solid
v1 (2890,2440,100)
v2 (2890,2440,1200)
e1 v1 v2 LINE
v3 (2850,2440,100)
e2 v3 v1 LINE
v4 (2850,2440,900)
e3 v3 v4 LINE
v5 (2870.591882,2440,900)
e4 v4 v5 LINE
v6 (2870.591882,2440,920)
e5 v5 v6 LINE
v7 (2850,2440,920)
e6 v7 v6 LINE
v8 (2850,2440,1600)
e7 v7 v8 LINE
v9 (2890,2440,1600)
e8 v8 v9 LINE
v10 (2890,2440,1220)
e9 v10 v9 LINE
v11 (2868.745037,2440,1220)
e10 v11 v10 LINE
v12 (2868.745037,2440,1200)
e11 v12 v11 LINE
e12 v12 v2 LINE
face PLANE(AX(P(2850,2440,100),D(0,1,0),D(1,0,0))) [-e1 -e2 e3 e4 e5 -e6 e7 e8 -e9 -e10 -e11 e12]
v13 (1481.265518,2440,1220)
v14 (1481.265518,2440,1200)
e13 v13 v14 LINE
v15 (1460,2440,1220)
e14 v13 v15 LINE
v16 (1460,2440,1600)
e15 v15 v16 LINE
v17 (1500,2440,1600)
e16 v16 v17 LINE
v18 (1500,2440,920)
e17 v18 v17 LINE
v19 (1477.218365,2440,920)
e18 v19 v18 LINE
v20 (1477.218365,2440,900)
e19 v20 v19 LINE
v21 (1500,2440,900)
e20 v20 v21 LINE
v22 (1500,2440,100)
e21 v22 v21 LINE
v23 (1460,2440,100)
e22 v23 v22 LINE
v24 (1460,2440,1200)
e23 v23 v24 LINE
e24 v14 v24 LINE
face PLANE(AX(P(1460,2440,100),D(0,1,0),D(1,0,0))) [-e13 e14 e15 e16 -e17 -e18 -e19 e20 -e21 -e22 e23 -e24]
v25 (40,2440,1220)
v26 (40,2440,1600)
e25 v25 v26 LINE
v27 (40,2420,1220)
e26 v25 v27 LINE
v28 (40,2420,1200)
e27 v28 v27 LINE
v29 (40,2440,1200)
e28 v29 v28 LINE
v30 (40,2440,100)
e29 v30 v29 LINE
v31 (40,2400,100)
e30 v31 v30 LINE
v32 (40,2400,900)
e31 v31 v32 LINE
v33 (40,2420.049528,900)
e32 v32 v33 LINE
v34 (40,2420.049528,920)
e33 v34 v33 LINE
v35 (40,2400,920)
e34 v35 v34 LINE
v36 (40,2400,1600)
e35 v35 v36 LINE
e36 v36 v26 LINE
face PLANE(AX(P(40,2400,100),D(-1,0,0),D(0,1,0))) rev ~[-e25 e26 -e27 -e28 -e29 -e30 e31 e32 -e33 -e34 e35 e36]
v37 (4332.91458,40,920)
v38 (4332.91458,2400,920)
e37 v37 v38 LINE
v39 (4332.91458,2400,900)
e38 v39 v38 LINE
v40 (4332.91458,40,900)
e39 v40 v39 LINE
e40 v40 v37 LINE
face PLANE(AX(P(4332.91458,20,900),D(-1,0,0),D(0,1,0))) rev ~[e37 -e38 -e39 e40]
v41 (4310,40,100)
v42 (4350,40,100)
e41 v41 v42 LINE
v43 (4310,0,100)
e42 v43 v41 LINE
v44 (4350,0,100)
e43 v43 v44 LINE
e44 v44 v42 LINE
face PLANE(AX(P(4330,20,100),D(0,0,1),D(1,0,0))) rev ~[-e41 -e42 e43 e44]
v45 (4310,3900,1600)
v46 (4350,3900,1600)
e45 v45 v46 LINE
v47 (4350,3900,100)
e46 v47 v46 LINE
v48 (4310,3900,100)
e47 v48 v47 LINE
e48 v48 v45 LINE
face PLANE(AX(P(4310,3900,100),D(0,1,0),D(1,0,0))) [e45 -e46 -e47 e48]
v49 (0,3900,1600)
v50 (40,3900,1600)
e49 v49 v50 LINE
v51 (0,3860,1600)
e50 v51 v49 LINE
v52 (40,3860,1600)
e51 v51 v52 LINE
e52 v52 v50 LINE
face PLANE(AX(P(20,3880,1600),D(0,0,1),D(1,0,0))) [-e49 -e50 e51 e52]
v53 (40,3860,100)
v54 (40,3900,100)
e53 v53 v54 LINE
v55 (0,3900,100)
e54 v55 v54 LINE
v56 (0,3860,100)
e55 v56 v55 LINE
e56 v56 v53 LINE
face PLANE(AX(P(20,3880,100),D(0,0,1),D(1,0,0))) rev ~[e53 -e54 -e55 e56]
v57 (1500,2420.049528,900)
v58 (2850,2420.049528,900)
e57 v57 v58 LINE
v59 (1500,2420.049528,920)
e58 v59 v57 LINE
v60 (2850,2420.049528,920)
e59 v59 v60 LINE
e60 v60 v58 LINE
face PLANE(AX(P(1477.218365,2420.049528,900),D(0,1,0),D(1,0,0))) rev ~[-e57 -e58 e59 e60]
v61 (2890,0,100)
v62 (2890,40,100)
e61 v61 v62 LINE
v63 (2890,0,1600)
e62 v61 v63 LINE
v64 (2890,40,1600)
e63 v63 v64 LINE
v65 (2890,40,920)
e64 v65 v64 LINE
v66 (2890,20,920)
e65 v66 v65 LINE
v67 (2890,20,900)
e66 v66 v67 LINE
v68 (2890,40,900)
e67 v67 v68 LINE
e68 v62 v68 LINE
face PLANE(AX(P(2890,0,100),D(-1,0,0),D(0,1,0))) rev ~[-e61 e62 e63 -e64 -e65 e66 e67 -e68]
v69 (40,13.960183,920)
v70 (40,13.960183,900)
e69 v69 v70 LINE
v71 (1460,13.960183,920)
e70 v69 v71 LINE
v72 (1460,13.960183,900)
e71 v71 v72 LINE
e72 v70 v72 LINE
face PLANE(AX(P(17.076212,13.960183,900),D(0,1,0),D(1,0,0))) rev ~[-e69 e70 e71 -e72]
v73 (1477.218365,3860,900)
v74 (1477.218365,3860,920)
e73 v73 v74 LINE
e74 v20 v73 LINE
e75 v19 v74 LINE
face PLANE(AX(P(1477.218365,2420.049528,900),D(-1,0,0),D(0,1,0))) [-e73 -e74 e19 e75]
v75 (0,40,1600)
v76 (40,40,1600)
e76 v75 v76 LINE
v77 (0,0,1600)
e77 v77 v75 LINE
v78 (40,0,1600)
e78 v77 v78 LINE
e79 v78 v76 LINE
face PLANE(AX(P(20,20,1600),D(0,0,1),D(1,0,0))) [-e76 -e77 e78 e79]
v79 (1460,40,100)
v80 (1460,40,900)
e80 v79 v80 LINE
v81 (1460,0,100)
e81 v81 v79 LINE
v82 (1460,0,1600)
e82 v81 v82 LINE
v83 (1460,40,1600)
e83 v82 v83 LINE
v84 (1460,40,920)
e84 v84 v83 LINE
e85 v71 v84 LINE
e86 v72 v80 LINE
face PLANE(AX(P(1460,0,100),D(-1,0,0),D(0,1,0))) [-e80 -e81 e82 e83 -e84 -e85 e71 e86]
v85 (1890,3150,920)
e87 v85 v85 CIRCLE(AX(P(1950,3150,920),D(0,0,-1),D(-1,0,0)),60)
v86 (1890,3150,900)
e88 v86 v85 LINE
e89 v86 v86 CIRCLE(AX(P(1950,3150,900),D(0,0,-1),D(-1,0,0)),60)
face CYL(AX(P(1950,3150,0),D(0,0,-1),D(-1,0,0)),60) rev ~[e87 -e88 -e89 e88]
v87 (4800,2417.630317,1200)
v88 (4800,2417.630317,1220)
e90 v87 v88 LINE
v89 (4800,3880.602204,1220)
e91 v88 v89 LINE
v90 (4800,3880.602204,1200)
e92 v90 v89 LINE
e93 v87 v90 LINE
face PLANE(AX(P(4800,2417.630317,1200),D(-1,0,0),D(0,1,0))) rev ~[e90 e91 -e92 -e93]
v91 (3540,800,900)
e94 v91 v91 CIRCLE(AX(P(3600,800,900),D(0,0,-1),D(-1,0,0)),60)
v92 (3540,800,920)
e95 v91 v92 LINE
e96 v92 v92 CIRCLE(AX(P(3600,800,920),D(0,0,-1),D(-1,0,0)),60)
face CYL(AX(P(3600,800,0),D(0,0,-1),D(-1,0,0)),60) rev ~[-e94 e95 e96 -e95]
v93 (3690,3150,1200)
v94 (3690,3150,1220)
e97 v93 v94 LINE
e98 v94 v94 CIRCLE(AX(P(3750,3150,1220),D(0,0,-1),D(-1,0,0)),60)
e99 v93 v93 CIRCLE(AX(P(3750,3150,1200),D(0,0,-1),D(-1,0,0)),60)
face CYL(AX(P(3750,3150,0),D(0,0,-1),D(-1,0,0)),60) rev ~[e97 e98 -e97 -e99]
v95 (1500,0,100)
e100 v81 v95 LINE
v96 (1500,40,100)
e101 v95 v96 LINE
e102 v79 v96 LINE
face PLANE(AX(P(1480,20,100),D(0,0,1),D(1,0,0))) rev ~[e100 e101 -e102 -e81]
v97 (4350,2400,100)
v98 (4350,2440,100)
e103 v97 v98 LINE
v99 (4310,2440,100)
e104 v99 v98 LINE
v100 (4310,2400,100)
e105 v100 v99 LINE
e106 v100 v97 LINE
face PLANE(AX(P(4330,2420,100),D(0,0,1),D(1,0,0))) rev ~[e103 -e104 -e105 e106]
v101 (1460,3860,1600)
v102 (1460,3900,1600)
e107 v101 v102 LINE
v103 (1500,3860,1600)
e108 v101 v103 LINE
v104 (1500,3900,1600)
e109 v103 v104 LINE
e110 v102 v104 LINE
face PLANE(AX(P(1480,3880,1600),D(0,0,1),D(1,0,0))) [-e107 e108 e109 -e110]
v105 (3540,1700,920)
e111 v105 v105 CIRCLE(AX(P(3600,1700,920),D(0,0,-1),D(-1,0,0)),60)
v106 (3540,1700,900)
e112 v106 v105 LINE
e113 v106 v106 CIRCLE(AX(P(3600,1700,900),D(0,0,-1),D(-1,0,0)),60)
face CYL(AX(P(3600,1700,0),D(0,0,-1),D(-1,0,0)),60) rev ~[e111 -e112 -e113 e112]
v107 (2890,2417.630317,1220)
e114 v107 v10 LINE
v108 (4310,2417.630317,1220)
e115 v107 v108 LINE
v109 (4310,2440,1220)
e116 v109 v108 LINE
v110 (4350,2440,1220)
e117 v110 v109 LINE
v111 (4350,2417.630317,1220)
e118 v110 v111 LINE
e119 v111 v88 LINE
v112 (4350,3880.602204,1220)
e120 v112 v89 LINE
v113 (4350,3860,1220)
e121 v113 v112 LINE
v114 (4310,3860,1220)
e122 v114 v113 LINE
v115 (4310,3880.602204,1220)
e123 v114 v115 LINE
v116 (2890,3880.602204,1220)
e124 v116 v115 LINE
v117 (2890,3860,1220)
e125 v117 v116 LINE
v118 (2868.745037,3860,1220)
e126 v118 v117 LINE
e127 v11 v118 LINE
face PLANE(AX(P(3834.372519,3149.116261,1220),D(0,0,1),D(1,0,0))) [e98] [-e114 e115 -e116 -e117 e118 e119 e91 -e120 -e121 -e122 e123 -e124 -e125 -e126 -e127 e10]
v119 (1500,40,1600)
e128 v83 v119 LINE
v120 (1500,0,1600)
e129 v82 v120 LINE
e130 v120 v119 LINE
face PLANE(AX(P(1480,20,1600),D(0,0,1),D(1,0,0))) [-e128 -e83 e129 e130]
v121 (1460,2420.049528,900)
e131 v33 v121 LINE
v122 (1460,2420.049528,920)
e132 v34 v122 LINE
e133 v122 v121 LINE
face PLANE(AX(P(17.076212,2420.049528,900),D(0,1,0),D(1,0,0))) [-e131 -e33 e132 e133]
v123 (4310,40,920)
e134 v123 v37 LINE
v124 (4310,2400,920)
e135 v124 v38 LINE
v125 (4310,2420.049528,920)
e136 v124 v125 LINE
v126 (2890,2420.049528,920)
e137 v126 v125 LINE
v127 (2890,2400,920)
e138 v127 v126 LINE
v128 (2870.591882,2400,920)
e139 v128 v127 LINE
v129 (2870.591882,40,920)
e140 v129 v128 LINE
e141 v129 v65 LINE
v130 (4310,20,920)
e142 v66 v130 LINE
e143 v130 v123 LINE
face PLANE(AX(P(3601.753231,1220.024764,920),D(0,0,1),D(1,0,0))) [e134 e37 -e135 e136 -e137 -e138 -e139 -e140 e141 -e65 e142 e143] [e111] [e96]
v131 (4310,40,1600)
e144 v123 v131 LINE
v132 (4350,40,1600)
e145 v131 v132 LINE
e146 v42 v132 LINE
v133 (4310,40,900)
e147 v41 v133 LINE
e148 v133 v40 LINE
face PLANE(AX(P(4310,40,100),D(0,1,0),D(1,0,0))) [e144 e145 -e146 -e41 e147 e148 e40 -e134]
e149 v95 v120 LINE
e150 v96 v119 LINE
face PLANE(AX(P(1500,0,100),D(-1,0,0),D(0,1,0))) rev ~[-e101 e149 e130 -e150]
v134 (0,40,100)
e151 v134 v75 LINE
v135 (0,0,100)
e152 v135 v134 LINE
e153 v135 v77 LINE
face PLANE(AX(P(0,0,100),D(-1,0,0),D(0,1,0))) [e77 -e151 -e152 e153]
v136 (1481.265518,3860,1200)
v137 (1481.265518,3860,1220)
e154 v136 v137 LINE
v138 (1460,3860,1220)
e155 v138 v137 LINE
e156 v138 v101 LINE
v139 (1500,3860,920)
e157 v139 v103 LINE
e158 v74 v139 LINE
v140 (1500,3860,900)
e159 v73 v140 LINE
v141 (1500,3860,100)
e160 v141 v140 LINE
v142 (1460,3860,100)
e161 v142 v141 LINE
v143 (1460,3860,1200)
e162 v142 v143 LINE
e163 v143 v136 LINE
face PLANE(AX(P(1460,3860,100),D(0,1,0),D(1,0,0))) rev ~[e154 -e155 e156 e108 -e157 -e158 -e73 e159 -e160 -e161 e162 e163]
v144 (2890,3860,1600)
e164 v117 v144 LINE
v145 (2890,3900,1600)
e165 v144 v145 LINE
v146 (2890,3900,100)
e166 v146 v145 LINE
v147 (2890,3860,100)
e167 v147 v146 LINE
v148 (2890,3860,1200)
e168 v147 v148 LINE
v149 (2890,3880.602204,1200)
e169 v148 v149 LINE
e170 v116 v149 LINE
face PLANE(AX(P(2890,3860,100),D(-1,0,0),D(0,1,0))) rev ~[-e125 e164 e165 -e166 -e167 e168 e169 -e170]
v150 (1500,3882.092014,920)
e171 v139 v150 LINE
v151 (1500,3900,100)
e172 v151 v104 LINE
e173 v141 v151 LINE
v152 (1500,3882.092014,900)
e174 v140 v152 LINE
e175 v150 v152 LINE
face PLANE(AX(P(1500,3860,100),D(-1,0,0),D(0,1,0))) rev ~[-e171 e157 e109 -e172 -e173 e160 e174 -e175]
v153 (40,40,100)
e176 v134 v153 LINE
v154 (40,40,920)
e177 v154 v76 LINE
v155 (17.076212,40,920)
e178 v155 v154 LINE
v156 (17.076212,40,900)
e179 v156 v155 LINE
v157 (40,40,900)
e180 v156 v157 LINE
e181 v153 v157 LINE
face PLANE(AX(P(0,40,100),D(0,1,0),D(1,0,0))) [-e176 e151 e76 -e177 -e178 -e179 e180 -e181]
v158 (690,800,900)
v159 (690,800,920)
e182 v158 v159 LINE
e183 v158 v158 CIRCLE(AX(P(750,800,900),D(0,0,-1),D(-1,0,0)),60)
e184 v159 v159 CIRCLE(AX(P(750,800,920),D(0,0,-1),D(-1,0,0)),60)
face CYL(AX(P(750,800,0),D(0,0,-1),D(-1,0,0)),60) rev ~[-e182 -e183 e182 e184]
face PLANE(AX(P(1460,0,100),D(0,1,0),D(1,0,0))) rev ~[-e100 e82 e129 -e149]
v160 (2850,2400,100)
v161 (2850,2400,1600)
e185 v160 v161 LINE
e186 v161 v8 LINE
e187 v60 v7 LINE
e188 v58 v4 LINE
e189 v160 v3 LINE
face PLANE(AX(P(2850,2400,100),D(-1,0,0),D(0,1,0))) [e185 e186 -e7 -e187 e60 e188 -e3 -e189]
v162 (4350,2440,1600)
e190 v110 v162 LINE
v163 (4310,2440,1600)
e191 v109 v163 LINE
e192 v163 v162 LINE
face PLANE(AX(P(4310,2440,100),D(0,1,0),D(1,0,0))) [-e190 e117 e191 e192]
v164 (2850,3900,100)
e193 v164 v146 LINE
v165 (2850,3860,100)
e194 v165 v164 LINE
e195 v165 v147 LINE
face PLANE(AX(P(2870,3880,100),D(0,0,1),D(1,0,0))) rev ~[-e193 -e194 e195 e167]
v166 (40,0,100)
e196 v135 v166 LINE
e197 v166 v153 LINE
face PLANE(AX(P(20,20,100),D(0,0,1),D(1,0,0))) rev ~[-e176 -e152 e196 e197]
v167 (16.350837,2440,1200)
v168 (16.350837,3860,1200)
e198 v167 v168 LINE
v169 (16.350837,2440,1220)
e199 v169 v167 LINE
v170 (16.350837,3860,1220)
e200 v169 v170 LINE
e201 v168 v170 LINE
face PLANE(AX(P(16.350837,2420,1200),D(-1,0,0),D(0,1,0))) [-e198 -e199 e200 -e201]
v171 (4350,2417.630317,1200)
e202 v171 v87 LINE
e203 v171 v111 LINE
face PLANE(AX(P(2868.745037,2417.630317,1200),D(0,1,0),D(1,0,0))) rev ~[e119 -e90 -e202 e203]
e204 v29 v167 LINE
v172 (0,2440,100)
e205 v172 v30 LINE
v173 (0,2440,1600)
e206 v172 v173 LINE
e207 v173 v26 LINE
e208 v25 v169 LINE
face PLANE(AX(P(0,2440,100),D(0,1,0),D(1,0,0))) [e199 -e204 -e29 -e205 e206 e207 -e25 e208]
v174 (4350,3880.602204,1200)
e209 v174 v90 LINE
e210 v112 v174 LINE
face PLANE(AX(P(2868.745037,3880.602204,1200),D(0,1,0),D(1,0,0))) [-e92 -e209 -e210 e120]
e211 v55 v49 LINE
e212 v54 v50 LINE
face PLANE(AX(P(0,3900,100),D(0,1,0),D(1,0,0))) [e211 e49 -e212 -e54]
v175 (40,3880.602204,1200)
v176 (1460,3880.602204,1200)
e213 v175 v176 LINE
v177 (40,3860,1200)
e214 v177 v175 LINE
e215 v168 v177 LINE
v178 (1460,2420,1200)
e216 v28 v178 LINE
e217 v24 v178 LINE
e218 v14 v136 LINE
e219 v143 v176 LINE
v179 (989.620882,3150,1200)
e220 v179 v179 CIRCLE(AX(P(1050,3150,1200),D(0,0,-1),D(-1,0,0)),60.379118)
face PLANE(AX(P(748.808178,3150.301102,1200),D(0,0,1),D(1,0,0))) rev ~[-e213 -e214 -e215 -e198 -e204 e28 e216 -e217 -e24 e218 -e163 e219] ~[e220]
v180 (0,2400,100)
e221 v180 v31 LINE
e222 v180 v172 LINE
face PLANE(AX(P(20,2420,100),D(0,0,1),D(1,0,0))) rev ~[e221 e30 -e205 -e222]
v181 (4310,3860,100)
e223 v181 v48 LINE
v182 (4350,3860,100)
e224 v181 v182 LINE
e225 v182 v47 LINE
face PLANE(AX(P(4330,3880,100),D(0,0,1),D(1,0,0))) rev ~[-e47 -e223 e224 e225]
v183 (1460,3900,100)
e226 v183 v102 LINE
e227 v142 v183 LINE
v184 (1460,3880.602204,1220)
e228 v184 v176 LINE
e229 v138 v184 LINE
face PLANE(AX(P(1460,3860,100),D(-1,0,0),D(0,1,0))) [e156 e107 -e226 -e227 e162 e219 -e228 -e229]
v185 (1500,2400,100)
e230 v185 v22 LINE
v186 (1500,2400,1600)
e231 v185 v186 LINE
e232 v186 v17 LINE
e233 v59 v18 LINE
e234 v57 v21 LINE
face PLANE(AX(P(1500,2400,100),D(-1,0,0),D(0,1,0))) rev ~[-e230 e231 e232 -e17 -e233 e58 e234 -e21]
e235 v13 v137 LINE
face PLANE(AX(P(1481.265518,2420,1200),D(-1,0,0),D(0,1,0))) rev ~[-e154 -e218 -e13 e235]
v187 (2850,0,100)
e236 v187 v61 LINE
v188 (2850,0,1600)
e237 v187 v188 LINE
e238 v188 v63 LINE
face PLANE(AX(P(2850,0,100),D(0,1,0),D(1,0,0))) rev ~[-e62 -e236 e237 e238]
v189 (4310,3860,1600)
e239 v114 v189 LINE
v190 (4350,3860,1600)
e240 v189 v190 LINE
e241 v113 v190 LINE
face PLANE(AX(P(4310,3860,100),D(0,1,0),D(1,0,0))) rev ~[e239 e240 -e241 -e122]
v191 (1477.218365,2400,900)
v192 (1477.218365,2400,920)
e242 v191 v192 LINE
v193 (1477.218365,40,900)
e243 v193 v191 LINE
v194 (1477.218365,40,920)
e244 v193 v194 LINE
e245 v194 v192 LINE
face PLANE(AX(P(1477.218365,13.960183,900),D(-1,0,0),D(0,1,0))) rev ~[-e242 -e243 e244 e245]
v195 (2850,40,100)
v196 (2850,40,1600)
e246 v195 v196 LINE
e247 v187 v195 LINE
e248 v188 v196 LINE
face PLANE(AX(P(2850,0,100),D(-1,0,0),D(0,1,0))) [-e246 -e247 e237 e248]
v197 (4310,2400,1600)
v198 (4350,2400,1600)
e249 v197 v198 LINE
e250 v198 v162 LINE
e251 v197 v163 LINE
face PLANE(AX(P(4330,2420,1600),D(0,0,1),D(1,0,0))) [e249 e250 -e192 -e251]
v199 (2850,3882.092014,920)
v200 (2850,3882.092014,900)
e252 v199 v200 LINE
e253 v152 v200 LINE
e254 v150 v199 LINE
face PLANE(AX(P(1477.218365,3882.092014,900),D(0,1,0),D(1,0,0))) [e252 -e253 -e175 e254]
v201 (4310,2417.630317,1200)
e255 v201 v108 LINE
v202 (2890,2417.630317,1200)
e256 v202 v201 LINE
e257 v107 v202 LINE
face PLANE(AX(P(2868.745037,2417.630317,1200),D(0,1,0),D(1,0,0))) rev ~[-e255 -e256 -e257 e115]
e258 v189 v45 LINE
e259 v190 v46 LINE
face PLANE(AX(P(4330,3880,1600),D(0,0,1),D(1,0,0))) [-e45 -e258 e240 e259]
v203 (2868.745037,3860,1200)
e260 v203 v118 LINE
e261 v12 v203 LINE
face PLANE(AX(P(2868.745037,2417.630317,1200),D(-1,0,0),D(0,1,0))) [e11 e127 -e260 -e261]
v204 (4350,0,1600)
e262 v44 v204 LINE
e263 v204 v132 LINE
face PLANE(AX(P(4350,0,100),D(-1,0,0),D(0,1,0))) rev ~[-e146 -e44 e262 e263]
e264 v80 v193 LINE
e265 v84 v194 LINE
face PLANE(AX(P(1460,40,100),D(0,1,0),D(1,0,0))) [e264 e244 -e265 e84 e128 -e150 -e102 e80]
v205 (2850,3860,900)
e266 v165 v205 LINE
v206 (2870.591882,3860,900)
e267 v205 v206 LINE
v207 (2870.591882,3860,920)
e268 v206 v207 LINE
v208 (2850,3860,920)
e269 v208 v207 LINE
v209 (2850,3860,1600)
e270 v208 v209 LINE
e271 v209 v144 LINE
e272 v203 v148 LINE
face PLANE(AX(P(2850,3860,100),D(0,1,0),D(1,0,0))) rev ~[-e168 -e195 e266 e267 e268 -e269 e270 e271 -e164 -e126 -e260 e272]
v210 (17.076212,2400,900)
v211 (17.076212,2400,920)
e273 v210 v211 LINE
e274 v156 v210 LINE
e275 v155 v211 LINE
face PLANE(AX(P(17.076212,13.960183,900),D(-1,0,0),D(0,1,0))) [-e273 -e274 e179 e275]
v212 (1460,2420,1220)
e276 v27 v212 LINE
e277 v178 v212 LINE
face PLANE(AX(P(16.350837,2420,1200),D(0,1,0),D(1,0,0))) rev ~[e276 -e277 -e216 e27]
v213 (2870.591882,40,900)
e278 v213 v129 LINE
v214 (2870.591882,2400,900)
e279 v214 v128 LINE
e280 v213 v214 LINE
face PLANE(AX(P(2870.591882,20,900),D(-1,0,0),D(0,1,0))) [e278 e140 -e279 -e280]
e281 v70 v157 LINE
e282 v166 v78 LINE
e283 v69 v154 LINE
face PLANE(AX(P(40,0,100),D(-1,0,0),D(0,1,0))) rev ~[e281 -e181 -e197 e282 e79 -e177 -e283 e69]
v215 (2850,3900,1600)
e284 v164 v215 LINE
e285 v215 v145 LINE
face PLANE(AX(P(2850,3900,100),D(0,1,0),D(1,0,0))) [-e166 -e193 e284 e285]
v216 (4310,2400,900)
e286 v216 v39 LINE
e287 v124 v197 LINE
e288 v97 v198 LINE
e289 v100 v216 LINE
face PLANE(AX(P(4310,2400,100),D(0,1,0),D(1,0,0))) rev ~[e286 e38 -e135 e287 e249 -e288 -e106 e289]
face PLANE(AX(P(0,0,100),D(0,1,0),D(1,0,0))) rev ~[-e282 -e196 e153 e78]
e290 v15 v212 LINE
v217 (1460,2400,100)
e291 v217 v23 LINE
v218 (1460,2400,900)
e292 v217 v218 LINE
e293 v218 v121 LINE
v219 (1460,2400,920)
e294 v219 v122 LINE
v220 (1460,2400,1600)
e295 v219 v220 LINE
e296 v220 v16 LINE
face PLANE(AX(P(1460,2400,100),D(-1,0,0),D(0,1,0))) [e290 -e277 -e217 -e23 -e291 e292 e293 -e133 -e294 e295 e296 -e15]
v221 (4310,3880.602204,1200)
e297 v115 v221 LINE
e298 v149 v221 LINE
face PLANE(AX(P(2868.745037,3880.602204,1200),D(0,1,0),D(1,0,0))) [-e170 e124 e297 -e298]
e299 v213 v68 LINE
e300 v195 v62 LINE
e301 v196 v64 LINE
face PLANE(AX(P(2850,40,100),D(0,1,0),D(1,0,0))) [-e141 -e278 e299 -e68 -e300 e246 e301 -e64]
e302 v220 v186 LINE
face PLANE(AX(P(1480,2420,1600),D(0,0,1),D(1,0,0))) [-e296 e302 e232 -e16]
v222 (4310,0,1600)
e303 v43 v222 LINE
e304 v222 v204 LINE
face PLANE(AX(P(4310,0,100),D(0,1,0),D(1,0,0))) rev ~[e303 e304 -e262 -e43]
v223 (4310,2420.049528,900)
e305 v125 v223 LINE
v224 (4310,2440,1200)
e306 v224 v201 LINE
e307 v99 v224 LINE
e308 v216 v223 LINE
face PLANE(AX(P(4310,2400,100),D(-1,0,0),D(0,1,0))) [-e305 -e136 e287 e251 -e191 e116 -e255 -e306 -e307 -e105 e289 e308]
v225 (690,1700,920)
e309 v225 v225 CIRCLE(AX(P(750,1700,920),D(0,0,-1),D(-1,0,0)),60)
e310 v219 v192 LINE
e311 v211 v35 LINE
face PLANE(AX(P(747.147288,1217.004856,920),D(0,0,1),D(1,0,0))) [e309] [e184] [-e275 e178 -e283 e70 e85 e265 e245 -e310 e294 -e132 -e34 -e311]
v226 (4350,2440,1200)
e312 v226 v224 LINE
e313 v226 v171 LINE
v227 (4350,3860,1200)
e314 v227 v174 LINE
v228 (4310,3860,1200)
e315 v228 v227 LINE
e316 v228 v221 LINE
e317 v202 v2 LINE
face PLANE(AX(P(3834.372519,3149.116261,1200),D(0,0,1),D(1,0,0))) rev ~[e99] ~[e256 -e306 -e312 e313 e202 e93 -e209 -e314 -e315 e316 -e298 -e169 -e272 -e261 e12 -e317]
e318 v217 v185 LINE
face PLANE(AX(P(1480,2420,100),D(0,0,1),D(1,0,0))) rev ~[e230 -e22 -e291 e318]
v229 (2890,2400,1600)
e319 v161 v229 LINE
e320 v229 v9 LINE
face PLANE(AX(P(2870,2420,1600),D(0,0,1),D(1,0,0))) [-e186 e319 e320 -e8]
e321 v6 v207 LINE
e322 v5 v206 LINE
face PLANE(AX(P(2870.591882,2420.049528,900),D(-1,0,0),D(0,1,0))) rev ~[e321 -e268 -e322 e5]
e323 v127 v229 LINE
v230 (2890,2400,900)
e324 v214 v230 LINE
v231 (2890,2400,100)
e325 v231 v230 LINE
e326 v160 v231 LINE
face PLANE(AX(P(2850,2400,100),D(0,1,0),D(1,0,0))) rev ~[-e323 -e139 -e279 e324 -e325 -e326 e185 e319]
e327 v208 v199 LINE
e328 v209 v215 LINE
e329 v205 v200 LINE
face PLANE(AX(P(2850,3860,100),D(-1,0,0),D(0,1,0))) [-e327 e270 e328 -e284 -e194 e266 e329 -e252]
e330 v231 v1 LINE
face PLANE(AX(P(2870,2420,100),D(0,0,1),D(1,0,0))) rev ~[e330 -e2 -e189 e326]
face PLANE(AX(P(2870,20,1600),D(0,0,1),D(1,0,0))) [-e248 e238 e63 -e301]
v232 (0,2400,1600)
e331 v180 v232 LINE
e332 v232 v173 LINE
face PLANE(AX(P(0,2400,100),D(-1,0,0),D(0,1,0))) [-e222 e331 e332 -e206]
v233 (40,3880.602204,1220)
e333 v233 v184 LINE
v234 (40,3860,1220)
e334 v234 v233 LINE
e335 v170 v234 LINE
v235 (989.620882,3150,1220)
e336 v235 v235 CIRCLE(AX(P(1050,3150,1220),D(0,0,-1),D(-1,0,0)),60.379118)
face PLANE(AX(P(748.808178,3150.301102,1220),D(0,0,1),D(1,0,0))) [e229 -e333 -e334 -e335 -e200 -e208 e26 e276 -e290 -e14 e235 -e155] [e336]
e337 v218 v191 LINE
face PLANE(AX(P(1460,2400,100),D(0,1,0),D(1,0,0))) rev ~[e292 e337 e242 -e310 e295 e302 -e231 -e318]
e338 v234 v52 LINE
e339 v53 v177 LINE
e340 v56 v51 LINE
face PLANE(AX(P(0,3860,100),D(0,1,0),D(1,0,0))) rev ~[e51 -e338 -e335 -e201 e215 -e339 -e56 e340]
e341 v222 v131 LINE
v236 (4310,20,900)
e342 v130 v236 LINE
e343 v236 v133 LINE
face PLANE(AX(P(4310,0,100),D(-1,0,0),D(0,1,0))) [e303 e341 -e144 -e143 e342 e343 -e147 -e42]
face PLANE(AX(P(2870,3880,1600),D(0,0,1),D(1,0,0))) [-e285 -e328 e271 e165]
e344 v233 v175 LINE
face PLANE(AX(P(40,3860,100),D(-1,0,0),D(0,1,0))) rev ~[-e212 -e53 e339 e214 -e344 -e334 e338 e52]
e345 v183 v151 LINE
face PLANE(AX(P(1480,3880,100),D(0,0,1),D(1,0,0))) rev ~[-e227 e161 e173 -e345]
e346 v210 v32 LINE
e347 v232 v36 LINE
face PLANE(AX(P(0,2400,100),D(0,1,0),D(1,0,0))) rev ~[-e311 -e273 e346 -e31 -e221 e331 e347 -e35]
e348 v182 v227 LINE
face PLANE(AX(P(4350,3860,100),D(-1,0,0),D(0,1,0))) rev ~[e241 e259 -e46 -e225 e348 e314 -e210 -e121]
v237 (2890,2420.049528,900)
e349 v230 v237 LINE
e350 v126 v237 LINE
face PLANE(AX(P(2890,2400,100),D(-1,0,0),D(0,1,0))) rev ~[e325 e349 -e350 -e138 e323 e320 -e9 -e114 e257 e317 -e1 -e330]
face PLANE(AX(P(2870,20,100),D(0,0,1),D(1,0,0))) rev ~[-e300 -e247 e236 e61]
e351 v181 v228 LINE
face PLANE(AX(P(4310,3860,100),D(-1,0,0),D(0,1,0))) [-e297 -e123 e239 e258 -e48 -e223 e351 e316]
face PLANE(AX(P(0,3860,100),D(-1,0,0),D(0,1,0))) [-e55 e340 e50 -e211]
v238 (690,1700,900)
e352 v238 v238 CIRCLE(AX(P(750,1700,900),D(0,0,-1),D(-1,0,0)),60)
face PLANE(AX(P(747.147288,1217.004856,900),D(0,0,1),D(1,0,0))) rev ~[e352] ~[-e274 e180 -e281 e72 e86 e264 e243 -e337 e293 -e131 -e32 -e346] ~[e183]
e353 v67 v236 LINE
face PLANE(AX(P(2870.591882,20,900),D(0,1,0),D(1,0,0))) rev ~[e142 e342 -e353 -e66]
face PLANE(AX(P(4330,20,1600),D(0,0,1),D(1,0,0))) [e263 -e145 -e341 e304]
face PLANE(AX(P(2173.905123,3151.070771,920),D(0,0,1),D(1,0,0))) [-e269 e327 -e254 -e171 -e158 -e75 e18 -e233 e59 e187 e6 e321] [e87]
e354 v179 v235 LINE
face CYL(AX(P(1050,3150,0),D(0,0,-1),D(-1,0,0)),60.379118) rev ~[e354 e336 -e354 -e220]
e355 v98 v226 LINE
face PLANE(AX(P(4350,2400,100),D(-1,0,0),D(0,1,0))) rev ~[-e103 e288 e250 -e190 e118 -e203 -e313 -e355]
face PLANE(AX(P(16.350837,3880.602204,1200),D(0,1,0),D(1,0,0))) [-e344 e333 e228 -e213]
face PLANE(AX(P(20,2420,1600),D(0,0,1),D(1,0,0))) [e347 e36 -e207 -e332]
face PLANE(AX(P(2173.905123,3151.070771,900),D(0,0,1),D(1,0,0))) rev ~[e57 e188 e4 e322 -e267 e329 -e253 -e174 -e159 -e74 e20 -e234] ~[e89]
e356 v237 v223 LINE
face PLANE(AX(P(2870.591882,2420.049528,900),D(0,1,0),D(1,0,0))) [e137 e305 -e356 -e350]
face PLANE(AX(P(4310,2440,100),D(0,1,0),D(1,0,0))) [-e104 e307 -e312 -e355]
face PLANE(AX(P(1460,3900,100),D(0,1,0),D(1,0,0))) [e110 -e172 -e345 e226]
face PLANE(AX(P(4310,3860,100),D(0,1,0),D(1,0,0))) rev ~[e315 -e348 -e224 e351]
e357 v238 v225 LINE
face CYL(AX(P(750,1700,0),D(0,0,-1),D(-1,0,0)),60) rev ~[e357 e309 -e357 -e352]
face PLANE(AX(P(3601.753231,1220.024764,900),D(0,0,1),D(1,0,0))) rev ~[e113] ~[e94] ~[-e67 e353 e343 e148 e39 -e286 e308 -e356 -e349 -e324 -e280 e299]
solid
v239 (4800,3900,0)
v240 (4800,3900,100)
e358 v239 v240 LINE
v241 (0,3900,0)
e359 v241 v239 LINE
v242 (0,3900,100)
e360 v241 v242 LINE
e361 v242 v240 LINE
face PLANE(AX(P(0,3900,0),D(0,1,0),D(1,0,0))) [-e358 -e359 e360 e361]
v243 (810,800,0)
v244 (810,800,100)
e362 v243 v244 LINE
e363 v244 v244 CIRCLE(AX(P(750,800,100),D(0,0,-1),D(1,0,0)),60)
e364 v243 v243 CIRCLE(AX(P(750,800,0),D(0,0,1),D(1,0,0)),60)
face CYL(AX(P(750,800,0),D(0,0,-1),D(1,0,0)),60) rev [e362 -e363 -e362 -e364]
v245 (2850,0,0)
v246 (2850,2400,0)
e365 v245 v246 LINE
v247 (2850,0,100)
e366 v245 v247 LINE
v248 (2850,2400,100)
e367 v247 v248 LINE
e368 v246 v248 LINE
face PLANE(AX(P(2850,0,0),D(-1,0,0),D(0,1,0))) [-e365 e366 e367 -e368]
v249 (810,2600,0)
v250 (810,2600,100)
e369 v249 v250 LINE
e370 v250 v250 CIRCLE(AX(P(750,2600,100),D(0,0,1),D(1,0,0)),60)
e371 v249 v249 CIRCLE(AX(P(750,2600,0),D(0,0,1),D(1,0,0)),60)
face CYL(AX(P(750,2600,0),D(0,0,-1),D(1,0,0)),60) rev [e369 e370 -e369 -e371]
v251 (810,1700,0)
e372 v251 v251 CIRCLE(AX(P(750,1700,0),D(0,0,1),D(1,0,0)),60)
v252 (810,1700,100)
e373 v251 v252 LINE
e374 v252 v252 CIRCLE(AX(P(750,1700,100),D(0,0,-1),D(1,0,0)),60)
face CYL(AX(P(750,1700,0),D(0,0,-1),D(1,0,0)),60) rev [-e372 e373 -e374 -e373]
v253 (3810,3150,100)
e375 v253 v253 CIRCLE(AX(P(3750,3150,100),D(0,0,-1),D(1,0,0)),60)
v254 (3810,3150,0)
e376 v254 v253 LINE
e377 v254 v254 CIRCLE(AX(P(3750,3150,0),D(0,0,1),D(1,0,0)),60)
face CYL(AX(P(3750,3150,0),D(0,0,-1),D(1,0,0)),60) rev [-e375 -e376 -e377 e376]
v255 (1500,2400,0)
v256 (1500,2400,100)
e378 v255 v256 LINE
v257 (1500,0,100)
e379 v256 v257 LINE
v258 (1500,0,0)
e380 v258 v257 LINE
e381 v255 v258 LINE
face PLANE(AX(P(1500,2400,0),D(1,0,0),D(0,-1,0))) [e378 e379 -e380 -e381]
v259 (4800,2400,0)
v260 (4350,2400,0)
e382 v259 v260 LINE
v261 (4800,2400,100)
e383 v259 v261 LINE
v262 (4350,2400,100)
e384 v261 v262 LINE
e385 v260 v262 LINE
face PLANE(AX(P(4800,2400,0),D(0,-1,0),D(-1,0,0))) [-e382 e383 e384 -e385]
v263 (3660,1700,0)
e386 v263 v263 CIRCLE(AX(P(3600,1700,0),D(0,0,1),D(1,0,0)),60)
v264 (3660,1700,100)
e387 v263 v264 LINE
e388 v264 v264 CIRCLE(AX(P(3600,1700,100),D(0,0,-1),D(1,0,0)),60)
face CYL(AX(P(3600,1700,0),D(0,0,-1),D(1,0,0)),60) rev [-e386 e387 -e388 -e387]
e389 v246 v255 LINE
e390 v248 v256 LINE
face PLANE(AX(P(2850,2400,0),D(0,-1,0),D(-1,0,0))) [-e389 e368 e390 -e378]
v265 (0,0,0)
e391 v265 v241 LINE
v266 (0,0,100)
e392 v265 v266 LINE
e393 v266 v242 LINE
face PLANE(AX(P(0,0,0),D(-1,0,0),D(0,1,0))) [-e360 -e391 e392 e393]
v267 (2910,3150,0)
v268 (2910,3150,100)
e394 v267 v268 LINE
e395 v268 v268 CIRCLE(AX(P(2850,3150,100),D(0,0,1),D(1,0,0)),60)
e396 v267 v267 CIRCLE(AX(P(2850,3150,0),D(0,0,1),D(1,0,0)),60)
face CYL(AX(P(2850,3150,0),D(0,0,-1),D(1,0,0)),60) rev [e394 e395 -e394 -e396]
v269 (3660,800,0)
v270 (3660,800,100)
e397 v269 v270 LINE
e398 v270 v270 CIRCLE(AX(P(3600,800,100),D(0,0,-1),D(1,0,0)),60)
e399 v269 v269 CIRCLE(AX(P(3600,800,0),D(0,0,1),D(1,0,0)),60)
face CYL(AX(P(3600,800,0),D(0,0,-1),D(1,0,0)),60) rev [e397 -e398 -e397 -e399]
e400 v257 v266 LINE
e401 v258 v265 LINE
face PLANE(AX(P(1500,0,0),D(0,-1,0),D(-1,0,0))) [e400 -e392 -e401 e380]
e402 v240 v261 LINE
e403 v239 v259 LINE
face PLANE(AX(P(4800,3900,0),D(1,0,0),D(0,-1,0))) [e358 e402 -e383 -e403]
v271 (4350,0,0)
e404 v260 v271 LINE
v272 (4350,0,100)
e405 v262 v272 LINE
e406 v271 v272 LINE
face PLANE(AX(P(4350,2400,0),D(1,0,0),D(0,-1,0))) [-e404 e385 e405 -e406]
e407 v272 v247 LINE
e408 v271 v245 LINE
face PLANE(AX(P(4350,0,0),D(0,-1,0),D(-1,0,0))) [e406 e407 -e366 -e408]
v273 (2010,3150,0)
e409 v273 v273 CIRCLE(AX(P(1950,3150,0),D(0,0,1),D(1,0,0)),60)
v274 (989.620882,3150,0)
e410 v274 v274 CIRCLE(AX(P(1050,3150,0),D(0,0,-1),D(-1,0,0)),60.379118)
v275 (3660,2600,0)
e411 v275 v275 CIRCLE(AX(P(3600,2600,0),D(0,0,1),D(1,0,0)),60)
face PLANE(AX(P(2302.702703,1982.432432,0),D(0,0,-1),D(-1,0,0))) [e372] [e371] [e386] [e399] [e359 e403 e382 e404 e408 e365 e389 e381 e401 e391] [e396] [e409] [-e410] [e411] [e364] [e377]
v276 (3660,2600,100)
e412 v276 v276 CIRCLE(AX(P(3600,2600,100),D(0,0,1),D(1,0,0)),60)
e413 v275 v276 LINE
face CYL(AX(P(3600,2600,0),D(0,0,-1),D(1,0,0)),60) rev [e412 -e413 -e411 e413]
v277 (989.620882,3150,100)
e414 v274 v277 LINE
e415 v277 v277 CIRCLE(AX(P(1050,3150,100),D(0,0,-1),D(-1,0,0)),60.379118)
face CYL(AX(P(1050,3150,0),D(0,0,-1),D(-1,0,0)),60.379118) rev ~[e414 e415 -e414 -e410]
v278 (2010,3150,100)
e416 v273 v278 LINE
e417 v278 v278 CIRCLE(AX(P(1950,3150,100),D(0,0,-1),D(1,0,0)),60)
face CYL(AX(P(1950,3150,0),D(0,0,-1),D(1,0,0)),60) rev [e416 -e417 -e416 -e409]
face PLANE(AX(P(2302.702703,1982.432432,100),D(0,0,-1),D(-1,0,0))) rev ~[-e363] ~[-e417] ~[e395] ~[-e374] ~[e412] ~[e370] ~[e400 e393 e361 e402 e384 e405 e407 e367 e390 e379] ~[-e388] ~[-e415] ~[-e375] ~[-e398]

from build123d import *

# Parameters (mm, degrees)
SKETCH1_R              = 60
BOSS_EXTRUDE1_DEPTH    = 100
SKETCH2_W              = 40
SKETCH2_H              = 40
BOSS_EXTRUDE2_DEPTH    = 1500
BOSS_EXTRUDE2_2_DEPTH  = 1500
BOSS_EXTRUDE2_3_DEPTH  = 1500
BOSS_EXTRUDE2_4_DEPTH  = 1500
BOSS_EXTRUDE2_5_DEPTH  = 1500
BOSS_EXTRUDE2_6_DEPTH  = 1500
BOSS_EXTRUDE2_7_DEPTH  = 1500
BOSS_EXTRUDE2_8_DEPTH  = 1500
BOSS_EXTRUDE2_9_DEPTH  = 1500
BOSS_EXTRUDE2_10_DEPTH = 1500
BOSS_EXTRUDE2_11_DEPTH = 1500
BOSS_EXTRUDE2_12_DEPTH = 1500
SKETCH5_W              = 1464.914680954
SKETCH5_H              = 1460.602204205
SKETCH5_W_2            = 1931.254962966
SKETCH5_H_2            = 1462.971886732
BOSS_EXTRUDE5_DEPTH    = 20
SKETCH3_W              = 1460.142152684
SKETCH3_H              = 2406.089345402
SKETCH3_W_2            = 1393.373517389
SKETCH3_H_2            = 1462.042486102
SKETCH3_W_3            = 1462.322698413
SKETCH3_H_3            = 2400.049528254
BOSS_EXTRUDE6_DEPTH    = 20
SKETCH6_R              = 60
SKETCH6_R_2            = 60.379118357
CUT_EXTRUDE2_DEPTH     = 1601


with BuildPart() as part:
    # Sketch1 → Boss-Extrude1 (new body)
    with BuildSketch(Plane.XY):
        Polygon((0, 0), (0, 3900), (4800, 3900), (4800, 2400), (4350, 2400), (4350, 0), (2850, 0), (2850, 2400), (1500, 2400), (1500, 0), align=None)
        with Locations((1050, 3150)):
            Circle(SKETCH1_R, mode=Mode.SUBTRACT)
        with Locations((1950, 3150)):
            Circle(SKETCH1_R, mode=Mode.SUBTRACT)
        with Locations((2850, 3150)):
            Circle(SKETCH1_R, mode=Mode.SUBTRACT)
        with Locations((750, 800)):
            Circle(SKETCH1_R, mode=Mode.SUBTRACT)
        with Locations((3600, 800)):
            Circle(SKETCH1_R, mode=Mode.SUBTRACT)
        with Locations((3600, 1700)):
            Circle(SKETCH1_R, mode=Mode.SUBTRACT)
        with Locations((750, 1700)):
            Circle(SKETCH1_R, mode=Mode.SUBTRACT)
        with Locations((3750, 3150)):
            Circle(SKETCH1_R, mode=Mode.SUBTRACT)
        with Locations((750, 2600)):
            Circle(SKETCH1_R, mode=Mode.SUBTRACT)
        with Locations((3600, 2600)):
            Circle(SKETCH1_R, mode=Mode.SUBTRACT)
    extrude(amount=BOSS_EXTRUDE1_DEPTH)


with BuildPart() as body_2:
    # Sketch2 → Boss-Extrude2 (new body)
    with BuildSketch(Plane.XY.offset(100)):
        with Locations((2870, 2420)):
            Rectangle(SKETCH2_W, SKETCH2_H)
    extrude(amount=BOSS_EXTRUDE2_DEPTH)



with BuildPart() as body_3:
    # Sketch2 → Boss-Extrude2 2 (new body)
    with BuildSketch(Plane.XY.offset(100)):
        with Locations((20, 3880)):
            Rectangle(SKETCH2_W, SKETCH2_H)
    extrude(amount=BOSS_EXTRUDE2_2_DEPTH)



with BuildPart() as body_4:
    # Sketch2 → Boss-Extrude2 3 (new body)
    with BuildSketch(Plane.XY.offset(100)):
        with Locations((20, 20)):
            Rectangle(SKETCH2_W, SKETCH2_H)
    extrude(amount=BOSS_EXTRUDE2_3_DEPTH)


with BuildPart() as body_5:
    # Sketch2 → Boss-Extrude2 4 (new body)
    with BuildSketch(Plane.XY.offset(100)):
        with Locations((1480, 20)):
            Rectangle(SKETCH2_W, SKETCH2_H)
    extrude(amount=BOSS_EXTRUDE2_4_DEPTH)


with BuildPart() as body_6:
    # Sketch2 → Boss-Extrude2 5 (new body)
    with BuildSketch(Plane.XY.offset(100)):
        with Locations((1480, 2420)):
            Rectangle(SKETCH2_W, SKETCH2_H)
    extrude(amount=BOSS_EXTRUDE2_5_DEPTH)


with BuildPart() as body_7:
    # Sketch2 → Boss-Extrude2 6 (new body)
    with BuildSketch(Plane.XY.offset(100)):
        with Locations((1480, 3880)):
            Rectangle(SKETCH2_W, SKETCH2_H)
    extrude(amount=BOSS_EXTRUDE2_6_DEPTH)


with BuildPart() as body_8:
    # Sketch2 → Boss-Extrude2 7 (new body)
    with BuildSketch(Plane.XY.offset(100)):
        with Locations((4330, 20)):
            Rectangle(SKETCH2_W, SKETCH2_H)
    extrude(amount=BOSS_EXTRUDE2_7_DEPTH)


with BuildPart() as body_9:
    # Sketch2 → Boss-Extrude2 8 (new body)
    with BuildSketch(Plane.XY.offset(100)):
        with Locations((2870, 20)):
            Rectangle(SKETCH2_W, SKETCH2_H)
    extrude(amount=BOSS_EXTRUDE2_8_DEPTH)


with BuildPart() as body_10:
    # Sketch2 → Boss-Extrude2 9 (new body)
    with BuildSketch(Plane.XY.offset(100)):
        with Locations((4330, 2420)):
            Rectangle(SKETCH2_W, SKETCH2_H)
    extrude(amount=BOSS_EXTRUDE2_9_DEPTH)


with BuildPart() as body_11:
    # Sketch2 → Boss-Extrude2 10 (new body)
    with BuildSketch(Plane.XY.offset(100)):
        with Locations((4330, 3880)):
            Rectangle(SKETCH2_W, SKETCH2_H)
    extrude(amount=BOSS_EXTRUDE2_10_DEPTH)


with BuildPart() as body_12:
    # Sketch2 → Boss-Extrude2 11 (new body)
    with BuildSketch(Plane.XY.offset(100)):
        with Locations((2870, 3880)):
            Rectangle(SKETCH2_W, SKETCH2_H)
    extrude(amount=BOSS_EXTRUDE2_11_DEPTH)


with BuildPart() as body_13:
    # Sketch2 → Boss-Extrude2 12 (new body)
    with BuildSketch(Plane.XY.offset(100)):
        with Locations((20, 2420)):
            Rectangle(SKETCH2_W, SKETCH2_H)
    extrude(amount=BOSS_EXTRUDE2_12_DEPTH)


with BuildPart() as body_3_1:
    add(body_3.part)

    add(body_7.part)  # Boss-Extrude5 merges body 7

    add(body_11.part)  # Boss-Extrude5 merges body 11

    add(body_12.part)  # Boss-Extrude5 merges body 12
    # Sketch5 → Boss-Extrude5 (add)
    with BuildSketch(Plane.XY.offset(1200)):
        with Locations((748.808177736, 3150.301102103)):
            Rectangle(SKETCH5_W, SKETCH5_H)
        with Locations((3834.372518517, 3149.116260839)):
            Rectangle(SKETCH5_W_2, SKETCH5_H_2)
    extrude(amount=BOSS_EXTRUDE5_DEPTH)


with BuildPart() as body_2_1:
    add(body_2.part)

    add(body_3_1.part)  # Boss-Extrude6 merges body 3

    add(body_4.part)  # Boss-Extrude6 merges body 4

    add(body_5.part)  # Boss-Extrude6 merges body 5

    add(body_6.part)  # Boss-Extrude6 merges body 6

    add(body_8.part)  # Boss-Extrude6 merges body 8

    add(body_9.part)  # Boss-Extrude6 merges body 9

    add(body_10.part)  # Boss-Extrude6 merges body 10

    add(body_13.part)  # Boss-Extrude6 merges body 13
    # Sketch3 → Boss-Extrude6 (add)
    with BuildSketch(Plane.XY.offset(900)):
        with Locations((747.147288346, 1217.004855553)):
            Rectangle(SKETCH3_W, SKETCH3_H)
        with Locations((2173.905123383, 3151.070771305)):
            Rectangle(SKETCH3_W_2, SKETCH3_H_2)
        with Locations((3601.753231284, 1220.024764127)):
            Rectangle(SKETCH3_W_3, SKETCH3_H_3)
    extrude(amount=BOSS_EXTRUDE6_DEPTH)


with BuildPart() as cut_extrude2_tool:
    # Sketch6 → Cut-Extrude2 (new body, through all)
    with BuildSketch(Plane(origin=(0, 0, 0), x_dir=(-1, 0, 0), z_dir=(0, 0, -1))):
        with Locations((-3750, 3150)):
            Circle(SKETCH6_R)
        with Locations((-1050, 3150)):
            Circle(SKETCH6_R_2)
        with Locations((-750, 1700)):
            Circle(SKETCH6_R)
        with Locations((-750, 800)):
            Circle(SKETCH6_R)
        with Locations((-3600, 800)):
            Circle(SKETCH6_R)
        with Locations((-3600, 1700)):
            Circle(SKETCH6_R)
        with Locations((-1950, 3150)):
            Circle(SKETCH6_R)
    extrude(amount=-CUT_EXTRUDE2_DEPTH)


with BuildPart() as part_1:
    add(part.part)

    # Cut-Extrude2: cut by cut_extrude2_tool
    add(cut_extrude2_tool.part, mode=Mode.SUBTRACT)


with BuildPart() as body_2_2:
    add(body_2_1.part)

    # Cut-Extrude2: cut by cut_extrude2_tool
    add(cut_extrude2_tool.part, mode=Mode.SUBTRACT)


solid = Compound([part_1.part, body_2_2.part])
